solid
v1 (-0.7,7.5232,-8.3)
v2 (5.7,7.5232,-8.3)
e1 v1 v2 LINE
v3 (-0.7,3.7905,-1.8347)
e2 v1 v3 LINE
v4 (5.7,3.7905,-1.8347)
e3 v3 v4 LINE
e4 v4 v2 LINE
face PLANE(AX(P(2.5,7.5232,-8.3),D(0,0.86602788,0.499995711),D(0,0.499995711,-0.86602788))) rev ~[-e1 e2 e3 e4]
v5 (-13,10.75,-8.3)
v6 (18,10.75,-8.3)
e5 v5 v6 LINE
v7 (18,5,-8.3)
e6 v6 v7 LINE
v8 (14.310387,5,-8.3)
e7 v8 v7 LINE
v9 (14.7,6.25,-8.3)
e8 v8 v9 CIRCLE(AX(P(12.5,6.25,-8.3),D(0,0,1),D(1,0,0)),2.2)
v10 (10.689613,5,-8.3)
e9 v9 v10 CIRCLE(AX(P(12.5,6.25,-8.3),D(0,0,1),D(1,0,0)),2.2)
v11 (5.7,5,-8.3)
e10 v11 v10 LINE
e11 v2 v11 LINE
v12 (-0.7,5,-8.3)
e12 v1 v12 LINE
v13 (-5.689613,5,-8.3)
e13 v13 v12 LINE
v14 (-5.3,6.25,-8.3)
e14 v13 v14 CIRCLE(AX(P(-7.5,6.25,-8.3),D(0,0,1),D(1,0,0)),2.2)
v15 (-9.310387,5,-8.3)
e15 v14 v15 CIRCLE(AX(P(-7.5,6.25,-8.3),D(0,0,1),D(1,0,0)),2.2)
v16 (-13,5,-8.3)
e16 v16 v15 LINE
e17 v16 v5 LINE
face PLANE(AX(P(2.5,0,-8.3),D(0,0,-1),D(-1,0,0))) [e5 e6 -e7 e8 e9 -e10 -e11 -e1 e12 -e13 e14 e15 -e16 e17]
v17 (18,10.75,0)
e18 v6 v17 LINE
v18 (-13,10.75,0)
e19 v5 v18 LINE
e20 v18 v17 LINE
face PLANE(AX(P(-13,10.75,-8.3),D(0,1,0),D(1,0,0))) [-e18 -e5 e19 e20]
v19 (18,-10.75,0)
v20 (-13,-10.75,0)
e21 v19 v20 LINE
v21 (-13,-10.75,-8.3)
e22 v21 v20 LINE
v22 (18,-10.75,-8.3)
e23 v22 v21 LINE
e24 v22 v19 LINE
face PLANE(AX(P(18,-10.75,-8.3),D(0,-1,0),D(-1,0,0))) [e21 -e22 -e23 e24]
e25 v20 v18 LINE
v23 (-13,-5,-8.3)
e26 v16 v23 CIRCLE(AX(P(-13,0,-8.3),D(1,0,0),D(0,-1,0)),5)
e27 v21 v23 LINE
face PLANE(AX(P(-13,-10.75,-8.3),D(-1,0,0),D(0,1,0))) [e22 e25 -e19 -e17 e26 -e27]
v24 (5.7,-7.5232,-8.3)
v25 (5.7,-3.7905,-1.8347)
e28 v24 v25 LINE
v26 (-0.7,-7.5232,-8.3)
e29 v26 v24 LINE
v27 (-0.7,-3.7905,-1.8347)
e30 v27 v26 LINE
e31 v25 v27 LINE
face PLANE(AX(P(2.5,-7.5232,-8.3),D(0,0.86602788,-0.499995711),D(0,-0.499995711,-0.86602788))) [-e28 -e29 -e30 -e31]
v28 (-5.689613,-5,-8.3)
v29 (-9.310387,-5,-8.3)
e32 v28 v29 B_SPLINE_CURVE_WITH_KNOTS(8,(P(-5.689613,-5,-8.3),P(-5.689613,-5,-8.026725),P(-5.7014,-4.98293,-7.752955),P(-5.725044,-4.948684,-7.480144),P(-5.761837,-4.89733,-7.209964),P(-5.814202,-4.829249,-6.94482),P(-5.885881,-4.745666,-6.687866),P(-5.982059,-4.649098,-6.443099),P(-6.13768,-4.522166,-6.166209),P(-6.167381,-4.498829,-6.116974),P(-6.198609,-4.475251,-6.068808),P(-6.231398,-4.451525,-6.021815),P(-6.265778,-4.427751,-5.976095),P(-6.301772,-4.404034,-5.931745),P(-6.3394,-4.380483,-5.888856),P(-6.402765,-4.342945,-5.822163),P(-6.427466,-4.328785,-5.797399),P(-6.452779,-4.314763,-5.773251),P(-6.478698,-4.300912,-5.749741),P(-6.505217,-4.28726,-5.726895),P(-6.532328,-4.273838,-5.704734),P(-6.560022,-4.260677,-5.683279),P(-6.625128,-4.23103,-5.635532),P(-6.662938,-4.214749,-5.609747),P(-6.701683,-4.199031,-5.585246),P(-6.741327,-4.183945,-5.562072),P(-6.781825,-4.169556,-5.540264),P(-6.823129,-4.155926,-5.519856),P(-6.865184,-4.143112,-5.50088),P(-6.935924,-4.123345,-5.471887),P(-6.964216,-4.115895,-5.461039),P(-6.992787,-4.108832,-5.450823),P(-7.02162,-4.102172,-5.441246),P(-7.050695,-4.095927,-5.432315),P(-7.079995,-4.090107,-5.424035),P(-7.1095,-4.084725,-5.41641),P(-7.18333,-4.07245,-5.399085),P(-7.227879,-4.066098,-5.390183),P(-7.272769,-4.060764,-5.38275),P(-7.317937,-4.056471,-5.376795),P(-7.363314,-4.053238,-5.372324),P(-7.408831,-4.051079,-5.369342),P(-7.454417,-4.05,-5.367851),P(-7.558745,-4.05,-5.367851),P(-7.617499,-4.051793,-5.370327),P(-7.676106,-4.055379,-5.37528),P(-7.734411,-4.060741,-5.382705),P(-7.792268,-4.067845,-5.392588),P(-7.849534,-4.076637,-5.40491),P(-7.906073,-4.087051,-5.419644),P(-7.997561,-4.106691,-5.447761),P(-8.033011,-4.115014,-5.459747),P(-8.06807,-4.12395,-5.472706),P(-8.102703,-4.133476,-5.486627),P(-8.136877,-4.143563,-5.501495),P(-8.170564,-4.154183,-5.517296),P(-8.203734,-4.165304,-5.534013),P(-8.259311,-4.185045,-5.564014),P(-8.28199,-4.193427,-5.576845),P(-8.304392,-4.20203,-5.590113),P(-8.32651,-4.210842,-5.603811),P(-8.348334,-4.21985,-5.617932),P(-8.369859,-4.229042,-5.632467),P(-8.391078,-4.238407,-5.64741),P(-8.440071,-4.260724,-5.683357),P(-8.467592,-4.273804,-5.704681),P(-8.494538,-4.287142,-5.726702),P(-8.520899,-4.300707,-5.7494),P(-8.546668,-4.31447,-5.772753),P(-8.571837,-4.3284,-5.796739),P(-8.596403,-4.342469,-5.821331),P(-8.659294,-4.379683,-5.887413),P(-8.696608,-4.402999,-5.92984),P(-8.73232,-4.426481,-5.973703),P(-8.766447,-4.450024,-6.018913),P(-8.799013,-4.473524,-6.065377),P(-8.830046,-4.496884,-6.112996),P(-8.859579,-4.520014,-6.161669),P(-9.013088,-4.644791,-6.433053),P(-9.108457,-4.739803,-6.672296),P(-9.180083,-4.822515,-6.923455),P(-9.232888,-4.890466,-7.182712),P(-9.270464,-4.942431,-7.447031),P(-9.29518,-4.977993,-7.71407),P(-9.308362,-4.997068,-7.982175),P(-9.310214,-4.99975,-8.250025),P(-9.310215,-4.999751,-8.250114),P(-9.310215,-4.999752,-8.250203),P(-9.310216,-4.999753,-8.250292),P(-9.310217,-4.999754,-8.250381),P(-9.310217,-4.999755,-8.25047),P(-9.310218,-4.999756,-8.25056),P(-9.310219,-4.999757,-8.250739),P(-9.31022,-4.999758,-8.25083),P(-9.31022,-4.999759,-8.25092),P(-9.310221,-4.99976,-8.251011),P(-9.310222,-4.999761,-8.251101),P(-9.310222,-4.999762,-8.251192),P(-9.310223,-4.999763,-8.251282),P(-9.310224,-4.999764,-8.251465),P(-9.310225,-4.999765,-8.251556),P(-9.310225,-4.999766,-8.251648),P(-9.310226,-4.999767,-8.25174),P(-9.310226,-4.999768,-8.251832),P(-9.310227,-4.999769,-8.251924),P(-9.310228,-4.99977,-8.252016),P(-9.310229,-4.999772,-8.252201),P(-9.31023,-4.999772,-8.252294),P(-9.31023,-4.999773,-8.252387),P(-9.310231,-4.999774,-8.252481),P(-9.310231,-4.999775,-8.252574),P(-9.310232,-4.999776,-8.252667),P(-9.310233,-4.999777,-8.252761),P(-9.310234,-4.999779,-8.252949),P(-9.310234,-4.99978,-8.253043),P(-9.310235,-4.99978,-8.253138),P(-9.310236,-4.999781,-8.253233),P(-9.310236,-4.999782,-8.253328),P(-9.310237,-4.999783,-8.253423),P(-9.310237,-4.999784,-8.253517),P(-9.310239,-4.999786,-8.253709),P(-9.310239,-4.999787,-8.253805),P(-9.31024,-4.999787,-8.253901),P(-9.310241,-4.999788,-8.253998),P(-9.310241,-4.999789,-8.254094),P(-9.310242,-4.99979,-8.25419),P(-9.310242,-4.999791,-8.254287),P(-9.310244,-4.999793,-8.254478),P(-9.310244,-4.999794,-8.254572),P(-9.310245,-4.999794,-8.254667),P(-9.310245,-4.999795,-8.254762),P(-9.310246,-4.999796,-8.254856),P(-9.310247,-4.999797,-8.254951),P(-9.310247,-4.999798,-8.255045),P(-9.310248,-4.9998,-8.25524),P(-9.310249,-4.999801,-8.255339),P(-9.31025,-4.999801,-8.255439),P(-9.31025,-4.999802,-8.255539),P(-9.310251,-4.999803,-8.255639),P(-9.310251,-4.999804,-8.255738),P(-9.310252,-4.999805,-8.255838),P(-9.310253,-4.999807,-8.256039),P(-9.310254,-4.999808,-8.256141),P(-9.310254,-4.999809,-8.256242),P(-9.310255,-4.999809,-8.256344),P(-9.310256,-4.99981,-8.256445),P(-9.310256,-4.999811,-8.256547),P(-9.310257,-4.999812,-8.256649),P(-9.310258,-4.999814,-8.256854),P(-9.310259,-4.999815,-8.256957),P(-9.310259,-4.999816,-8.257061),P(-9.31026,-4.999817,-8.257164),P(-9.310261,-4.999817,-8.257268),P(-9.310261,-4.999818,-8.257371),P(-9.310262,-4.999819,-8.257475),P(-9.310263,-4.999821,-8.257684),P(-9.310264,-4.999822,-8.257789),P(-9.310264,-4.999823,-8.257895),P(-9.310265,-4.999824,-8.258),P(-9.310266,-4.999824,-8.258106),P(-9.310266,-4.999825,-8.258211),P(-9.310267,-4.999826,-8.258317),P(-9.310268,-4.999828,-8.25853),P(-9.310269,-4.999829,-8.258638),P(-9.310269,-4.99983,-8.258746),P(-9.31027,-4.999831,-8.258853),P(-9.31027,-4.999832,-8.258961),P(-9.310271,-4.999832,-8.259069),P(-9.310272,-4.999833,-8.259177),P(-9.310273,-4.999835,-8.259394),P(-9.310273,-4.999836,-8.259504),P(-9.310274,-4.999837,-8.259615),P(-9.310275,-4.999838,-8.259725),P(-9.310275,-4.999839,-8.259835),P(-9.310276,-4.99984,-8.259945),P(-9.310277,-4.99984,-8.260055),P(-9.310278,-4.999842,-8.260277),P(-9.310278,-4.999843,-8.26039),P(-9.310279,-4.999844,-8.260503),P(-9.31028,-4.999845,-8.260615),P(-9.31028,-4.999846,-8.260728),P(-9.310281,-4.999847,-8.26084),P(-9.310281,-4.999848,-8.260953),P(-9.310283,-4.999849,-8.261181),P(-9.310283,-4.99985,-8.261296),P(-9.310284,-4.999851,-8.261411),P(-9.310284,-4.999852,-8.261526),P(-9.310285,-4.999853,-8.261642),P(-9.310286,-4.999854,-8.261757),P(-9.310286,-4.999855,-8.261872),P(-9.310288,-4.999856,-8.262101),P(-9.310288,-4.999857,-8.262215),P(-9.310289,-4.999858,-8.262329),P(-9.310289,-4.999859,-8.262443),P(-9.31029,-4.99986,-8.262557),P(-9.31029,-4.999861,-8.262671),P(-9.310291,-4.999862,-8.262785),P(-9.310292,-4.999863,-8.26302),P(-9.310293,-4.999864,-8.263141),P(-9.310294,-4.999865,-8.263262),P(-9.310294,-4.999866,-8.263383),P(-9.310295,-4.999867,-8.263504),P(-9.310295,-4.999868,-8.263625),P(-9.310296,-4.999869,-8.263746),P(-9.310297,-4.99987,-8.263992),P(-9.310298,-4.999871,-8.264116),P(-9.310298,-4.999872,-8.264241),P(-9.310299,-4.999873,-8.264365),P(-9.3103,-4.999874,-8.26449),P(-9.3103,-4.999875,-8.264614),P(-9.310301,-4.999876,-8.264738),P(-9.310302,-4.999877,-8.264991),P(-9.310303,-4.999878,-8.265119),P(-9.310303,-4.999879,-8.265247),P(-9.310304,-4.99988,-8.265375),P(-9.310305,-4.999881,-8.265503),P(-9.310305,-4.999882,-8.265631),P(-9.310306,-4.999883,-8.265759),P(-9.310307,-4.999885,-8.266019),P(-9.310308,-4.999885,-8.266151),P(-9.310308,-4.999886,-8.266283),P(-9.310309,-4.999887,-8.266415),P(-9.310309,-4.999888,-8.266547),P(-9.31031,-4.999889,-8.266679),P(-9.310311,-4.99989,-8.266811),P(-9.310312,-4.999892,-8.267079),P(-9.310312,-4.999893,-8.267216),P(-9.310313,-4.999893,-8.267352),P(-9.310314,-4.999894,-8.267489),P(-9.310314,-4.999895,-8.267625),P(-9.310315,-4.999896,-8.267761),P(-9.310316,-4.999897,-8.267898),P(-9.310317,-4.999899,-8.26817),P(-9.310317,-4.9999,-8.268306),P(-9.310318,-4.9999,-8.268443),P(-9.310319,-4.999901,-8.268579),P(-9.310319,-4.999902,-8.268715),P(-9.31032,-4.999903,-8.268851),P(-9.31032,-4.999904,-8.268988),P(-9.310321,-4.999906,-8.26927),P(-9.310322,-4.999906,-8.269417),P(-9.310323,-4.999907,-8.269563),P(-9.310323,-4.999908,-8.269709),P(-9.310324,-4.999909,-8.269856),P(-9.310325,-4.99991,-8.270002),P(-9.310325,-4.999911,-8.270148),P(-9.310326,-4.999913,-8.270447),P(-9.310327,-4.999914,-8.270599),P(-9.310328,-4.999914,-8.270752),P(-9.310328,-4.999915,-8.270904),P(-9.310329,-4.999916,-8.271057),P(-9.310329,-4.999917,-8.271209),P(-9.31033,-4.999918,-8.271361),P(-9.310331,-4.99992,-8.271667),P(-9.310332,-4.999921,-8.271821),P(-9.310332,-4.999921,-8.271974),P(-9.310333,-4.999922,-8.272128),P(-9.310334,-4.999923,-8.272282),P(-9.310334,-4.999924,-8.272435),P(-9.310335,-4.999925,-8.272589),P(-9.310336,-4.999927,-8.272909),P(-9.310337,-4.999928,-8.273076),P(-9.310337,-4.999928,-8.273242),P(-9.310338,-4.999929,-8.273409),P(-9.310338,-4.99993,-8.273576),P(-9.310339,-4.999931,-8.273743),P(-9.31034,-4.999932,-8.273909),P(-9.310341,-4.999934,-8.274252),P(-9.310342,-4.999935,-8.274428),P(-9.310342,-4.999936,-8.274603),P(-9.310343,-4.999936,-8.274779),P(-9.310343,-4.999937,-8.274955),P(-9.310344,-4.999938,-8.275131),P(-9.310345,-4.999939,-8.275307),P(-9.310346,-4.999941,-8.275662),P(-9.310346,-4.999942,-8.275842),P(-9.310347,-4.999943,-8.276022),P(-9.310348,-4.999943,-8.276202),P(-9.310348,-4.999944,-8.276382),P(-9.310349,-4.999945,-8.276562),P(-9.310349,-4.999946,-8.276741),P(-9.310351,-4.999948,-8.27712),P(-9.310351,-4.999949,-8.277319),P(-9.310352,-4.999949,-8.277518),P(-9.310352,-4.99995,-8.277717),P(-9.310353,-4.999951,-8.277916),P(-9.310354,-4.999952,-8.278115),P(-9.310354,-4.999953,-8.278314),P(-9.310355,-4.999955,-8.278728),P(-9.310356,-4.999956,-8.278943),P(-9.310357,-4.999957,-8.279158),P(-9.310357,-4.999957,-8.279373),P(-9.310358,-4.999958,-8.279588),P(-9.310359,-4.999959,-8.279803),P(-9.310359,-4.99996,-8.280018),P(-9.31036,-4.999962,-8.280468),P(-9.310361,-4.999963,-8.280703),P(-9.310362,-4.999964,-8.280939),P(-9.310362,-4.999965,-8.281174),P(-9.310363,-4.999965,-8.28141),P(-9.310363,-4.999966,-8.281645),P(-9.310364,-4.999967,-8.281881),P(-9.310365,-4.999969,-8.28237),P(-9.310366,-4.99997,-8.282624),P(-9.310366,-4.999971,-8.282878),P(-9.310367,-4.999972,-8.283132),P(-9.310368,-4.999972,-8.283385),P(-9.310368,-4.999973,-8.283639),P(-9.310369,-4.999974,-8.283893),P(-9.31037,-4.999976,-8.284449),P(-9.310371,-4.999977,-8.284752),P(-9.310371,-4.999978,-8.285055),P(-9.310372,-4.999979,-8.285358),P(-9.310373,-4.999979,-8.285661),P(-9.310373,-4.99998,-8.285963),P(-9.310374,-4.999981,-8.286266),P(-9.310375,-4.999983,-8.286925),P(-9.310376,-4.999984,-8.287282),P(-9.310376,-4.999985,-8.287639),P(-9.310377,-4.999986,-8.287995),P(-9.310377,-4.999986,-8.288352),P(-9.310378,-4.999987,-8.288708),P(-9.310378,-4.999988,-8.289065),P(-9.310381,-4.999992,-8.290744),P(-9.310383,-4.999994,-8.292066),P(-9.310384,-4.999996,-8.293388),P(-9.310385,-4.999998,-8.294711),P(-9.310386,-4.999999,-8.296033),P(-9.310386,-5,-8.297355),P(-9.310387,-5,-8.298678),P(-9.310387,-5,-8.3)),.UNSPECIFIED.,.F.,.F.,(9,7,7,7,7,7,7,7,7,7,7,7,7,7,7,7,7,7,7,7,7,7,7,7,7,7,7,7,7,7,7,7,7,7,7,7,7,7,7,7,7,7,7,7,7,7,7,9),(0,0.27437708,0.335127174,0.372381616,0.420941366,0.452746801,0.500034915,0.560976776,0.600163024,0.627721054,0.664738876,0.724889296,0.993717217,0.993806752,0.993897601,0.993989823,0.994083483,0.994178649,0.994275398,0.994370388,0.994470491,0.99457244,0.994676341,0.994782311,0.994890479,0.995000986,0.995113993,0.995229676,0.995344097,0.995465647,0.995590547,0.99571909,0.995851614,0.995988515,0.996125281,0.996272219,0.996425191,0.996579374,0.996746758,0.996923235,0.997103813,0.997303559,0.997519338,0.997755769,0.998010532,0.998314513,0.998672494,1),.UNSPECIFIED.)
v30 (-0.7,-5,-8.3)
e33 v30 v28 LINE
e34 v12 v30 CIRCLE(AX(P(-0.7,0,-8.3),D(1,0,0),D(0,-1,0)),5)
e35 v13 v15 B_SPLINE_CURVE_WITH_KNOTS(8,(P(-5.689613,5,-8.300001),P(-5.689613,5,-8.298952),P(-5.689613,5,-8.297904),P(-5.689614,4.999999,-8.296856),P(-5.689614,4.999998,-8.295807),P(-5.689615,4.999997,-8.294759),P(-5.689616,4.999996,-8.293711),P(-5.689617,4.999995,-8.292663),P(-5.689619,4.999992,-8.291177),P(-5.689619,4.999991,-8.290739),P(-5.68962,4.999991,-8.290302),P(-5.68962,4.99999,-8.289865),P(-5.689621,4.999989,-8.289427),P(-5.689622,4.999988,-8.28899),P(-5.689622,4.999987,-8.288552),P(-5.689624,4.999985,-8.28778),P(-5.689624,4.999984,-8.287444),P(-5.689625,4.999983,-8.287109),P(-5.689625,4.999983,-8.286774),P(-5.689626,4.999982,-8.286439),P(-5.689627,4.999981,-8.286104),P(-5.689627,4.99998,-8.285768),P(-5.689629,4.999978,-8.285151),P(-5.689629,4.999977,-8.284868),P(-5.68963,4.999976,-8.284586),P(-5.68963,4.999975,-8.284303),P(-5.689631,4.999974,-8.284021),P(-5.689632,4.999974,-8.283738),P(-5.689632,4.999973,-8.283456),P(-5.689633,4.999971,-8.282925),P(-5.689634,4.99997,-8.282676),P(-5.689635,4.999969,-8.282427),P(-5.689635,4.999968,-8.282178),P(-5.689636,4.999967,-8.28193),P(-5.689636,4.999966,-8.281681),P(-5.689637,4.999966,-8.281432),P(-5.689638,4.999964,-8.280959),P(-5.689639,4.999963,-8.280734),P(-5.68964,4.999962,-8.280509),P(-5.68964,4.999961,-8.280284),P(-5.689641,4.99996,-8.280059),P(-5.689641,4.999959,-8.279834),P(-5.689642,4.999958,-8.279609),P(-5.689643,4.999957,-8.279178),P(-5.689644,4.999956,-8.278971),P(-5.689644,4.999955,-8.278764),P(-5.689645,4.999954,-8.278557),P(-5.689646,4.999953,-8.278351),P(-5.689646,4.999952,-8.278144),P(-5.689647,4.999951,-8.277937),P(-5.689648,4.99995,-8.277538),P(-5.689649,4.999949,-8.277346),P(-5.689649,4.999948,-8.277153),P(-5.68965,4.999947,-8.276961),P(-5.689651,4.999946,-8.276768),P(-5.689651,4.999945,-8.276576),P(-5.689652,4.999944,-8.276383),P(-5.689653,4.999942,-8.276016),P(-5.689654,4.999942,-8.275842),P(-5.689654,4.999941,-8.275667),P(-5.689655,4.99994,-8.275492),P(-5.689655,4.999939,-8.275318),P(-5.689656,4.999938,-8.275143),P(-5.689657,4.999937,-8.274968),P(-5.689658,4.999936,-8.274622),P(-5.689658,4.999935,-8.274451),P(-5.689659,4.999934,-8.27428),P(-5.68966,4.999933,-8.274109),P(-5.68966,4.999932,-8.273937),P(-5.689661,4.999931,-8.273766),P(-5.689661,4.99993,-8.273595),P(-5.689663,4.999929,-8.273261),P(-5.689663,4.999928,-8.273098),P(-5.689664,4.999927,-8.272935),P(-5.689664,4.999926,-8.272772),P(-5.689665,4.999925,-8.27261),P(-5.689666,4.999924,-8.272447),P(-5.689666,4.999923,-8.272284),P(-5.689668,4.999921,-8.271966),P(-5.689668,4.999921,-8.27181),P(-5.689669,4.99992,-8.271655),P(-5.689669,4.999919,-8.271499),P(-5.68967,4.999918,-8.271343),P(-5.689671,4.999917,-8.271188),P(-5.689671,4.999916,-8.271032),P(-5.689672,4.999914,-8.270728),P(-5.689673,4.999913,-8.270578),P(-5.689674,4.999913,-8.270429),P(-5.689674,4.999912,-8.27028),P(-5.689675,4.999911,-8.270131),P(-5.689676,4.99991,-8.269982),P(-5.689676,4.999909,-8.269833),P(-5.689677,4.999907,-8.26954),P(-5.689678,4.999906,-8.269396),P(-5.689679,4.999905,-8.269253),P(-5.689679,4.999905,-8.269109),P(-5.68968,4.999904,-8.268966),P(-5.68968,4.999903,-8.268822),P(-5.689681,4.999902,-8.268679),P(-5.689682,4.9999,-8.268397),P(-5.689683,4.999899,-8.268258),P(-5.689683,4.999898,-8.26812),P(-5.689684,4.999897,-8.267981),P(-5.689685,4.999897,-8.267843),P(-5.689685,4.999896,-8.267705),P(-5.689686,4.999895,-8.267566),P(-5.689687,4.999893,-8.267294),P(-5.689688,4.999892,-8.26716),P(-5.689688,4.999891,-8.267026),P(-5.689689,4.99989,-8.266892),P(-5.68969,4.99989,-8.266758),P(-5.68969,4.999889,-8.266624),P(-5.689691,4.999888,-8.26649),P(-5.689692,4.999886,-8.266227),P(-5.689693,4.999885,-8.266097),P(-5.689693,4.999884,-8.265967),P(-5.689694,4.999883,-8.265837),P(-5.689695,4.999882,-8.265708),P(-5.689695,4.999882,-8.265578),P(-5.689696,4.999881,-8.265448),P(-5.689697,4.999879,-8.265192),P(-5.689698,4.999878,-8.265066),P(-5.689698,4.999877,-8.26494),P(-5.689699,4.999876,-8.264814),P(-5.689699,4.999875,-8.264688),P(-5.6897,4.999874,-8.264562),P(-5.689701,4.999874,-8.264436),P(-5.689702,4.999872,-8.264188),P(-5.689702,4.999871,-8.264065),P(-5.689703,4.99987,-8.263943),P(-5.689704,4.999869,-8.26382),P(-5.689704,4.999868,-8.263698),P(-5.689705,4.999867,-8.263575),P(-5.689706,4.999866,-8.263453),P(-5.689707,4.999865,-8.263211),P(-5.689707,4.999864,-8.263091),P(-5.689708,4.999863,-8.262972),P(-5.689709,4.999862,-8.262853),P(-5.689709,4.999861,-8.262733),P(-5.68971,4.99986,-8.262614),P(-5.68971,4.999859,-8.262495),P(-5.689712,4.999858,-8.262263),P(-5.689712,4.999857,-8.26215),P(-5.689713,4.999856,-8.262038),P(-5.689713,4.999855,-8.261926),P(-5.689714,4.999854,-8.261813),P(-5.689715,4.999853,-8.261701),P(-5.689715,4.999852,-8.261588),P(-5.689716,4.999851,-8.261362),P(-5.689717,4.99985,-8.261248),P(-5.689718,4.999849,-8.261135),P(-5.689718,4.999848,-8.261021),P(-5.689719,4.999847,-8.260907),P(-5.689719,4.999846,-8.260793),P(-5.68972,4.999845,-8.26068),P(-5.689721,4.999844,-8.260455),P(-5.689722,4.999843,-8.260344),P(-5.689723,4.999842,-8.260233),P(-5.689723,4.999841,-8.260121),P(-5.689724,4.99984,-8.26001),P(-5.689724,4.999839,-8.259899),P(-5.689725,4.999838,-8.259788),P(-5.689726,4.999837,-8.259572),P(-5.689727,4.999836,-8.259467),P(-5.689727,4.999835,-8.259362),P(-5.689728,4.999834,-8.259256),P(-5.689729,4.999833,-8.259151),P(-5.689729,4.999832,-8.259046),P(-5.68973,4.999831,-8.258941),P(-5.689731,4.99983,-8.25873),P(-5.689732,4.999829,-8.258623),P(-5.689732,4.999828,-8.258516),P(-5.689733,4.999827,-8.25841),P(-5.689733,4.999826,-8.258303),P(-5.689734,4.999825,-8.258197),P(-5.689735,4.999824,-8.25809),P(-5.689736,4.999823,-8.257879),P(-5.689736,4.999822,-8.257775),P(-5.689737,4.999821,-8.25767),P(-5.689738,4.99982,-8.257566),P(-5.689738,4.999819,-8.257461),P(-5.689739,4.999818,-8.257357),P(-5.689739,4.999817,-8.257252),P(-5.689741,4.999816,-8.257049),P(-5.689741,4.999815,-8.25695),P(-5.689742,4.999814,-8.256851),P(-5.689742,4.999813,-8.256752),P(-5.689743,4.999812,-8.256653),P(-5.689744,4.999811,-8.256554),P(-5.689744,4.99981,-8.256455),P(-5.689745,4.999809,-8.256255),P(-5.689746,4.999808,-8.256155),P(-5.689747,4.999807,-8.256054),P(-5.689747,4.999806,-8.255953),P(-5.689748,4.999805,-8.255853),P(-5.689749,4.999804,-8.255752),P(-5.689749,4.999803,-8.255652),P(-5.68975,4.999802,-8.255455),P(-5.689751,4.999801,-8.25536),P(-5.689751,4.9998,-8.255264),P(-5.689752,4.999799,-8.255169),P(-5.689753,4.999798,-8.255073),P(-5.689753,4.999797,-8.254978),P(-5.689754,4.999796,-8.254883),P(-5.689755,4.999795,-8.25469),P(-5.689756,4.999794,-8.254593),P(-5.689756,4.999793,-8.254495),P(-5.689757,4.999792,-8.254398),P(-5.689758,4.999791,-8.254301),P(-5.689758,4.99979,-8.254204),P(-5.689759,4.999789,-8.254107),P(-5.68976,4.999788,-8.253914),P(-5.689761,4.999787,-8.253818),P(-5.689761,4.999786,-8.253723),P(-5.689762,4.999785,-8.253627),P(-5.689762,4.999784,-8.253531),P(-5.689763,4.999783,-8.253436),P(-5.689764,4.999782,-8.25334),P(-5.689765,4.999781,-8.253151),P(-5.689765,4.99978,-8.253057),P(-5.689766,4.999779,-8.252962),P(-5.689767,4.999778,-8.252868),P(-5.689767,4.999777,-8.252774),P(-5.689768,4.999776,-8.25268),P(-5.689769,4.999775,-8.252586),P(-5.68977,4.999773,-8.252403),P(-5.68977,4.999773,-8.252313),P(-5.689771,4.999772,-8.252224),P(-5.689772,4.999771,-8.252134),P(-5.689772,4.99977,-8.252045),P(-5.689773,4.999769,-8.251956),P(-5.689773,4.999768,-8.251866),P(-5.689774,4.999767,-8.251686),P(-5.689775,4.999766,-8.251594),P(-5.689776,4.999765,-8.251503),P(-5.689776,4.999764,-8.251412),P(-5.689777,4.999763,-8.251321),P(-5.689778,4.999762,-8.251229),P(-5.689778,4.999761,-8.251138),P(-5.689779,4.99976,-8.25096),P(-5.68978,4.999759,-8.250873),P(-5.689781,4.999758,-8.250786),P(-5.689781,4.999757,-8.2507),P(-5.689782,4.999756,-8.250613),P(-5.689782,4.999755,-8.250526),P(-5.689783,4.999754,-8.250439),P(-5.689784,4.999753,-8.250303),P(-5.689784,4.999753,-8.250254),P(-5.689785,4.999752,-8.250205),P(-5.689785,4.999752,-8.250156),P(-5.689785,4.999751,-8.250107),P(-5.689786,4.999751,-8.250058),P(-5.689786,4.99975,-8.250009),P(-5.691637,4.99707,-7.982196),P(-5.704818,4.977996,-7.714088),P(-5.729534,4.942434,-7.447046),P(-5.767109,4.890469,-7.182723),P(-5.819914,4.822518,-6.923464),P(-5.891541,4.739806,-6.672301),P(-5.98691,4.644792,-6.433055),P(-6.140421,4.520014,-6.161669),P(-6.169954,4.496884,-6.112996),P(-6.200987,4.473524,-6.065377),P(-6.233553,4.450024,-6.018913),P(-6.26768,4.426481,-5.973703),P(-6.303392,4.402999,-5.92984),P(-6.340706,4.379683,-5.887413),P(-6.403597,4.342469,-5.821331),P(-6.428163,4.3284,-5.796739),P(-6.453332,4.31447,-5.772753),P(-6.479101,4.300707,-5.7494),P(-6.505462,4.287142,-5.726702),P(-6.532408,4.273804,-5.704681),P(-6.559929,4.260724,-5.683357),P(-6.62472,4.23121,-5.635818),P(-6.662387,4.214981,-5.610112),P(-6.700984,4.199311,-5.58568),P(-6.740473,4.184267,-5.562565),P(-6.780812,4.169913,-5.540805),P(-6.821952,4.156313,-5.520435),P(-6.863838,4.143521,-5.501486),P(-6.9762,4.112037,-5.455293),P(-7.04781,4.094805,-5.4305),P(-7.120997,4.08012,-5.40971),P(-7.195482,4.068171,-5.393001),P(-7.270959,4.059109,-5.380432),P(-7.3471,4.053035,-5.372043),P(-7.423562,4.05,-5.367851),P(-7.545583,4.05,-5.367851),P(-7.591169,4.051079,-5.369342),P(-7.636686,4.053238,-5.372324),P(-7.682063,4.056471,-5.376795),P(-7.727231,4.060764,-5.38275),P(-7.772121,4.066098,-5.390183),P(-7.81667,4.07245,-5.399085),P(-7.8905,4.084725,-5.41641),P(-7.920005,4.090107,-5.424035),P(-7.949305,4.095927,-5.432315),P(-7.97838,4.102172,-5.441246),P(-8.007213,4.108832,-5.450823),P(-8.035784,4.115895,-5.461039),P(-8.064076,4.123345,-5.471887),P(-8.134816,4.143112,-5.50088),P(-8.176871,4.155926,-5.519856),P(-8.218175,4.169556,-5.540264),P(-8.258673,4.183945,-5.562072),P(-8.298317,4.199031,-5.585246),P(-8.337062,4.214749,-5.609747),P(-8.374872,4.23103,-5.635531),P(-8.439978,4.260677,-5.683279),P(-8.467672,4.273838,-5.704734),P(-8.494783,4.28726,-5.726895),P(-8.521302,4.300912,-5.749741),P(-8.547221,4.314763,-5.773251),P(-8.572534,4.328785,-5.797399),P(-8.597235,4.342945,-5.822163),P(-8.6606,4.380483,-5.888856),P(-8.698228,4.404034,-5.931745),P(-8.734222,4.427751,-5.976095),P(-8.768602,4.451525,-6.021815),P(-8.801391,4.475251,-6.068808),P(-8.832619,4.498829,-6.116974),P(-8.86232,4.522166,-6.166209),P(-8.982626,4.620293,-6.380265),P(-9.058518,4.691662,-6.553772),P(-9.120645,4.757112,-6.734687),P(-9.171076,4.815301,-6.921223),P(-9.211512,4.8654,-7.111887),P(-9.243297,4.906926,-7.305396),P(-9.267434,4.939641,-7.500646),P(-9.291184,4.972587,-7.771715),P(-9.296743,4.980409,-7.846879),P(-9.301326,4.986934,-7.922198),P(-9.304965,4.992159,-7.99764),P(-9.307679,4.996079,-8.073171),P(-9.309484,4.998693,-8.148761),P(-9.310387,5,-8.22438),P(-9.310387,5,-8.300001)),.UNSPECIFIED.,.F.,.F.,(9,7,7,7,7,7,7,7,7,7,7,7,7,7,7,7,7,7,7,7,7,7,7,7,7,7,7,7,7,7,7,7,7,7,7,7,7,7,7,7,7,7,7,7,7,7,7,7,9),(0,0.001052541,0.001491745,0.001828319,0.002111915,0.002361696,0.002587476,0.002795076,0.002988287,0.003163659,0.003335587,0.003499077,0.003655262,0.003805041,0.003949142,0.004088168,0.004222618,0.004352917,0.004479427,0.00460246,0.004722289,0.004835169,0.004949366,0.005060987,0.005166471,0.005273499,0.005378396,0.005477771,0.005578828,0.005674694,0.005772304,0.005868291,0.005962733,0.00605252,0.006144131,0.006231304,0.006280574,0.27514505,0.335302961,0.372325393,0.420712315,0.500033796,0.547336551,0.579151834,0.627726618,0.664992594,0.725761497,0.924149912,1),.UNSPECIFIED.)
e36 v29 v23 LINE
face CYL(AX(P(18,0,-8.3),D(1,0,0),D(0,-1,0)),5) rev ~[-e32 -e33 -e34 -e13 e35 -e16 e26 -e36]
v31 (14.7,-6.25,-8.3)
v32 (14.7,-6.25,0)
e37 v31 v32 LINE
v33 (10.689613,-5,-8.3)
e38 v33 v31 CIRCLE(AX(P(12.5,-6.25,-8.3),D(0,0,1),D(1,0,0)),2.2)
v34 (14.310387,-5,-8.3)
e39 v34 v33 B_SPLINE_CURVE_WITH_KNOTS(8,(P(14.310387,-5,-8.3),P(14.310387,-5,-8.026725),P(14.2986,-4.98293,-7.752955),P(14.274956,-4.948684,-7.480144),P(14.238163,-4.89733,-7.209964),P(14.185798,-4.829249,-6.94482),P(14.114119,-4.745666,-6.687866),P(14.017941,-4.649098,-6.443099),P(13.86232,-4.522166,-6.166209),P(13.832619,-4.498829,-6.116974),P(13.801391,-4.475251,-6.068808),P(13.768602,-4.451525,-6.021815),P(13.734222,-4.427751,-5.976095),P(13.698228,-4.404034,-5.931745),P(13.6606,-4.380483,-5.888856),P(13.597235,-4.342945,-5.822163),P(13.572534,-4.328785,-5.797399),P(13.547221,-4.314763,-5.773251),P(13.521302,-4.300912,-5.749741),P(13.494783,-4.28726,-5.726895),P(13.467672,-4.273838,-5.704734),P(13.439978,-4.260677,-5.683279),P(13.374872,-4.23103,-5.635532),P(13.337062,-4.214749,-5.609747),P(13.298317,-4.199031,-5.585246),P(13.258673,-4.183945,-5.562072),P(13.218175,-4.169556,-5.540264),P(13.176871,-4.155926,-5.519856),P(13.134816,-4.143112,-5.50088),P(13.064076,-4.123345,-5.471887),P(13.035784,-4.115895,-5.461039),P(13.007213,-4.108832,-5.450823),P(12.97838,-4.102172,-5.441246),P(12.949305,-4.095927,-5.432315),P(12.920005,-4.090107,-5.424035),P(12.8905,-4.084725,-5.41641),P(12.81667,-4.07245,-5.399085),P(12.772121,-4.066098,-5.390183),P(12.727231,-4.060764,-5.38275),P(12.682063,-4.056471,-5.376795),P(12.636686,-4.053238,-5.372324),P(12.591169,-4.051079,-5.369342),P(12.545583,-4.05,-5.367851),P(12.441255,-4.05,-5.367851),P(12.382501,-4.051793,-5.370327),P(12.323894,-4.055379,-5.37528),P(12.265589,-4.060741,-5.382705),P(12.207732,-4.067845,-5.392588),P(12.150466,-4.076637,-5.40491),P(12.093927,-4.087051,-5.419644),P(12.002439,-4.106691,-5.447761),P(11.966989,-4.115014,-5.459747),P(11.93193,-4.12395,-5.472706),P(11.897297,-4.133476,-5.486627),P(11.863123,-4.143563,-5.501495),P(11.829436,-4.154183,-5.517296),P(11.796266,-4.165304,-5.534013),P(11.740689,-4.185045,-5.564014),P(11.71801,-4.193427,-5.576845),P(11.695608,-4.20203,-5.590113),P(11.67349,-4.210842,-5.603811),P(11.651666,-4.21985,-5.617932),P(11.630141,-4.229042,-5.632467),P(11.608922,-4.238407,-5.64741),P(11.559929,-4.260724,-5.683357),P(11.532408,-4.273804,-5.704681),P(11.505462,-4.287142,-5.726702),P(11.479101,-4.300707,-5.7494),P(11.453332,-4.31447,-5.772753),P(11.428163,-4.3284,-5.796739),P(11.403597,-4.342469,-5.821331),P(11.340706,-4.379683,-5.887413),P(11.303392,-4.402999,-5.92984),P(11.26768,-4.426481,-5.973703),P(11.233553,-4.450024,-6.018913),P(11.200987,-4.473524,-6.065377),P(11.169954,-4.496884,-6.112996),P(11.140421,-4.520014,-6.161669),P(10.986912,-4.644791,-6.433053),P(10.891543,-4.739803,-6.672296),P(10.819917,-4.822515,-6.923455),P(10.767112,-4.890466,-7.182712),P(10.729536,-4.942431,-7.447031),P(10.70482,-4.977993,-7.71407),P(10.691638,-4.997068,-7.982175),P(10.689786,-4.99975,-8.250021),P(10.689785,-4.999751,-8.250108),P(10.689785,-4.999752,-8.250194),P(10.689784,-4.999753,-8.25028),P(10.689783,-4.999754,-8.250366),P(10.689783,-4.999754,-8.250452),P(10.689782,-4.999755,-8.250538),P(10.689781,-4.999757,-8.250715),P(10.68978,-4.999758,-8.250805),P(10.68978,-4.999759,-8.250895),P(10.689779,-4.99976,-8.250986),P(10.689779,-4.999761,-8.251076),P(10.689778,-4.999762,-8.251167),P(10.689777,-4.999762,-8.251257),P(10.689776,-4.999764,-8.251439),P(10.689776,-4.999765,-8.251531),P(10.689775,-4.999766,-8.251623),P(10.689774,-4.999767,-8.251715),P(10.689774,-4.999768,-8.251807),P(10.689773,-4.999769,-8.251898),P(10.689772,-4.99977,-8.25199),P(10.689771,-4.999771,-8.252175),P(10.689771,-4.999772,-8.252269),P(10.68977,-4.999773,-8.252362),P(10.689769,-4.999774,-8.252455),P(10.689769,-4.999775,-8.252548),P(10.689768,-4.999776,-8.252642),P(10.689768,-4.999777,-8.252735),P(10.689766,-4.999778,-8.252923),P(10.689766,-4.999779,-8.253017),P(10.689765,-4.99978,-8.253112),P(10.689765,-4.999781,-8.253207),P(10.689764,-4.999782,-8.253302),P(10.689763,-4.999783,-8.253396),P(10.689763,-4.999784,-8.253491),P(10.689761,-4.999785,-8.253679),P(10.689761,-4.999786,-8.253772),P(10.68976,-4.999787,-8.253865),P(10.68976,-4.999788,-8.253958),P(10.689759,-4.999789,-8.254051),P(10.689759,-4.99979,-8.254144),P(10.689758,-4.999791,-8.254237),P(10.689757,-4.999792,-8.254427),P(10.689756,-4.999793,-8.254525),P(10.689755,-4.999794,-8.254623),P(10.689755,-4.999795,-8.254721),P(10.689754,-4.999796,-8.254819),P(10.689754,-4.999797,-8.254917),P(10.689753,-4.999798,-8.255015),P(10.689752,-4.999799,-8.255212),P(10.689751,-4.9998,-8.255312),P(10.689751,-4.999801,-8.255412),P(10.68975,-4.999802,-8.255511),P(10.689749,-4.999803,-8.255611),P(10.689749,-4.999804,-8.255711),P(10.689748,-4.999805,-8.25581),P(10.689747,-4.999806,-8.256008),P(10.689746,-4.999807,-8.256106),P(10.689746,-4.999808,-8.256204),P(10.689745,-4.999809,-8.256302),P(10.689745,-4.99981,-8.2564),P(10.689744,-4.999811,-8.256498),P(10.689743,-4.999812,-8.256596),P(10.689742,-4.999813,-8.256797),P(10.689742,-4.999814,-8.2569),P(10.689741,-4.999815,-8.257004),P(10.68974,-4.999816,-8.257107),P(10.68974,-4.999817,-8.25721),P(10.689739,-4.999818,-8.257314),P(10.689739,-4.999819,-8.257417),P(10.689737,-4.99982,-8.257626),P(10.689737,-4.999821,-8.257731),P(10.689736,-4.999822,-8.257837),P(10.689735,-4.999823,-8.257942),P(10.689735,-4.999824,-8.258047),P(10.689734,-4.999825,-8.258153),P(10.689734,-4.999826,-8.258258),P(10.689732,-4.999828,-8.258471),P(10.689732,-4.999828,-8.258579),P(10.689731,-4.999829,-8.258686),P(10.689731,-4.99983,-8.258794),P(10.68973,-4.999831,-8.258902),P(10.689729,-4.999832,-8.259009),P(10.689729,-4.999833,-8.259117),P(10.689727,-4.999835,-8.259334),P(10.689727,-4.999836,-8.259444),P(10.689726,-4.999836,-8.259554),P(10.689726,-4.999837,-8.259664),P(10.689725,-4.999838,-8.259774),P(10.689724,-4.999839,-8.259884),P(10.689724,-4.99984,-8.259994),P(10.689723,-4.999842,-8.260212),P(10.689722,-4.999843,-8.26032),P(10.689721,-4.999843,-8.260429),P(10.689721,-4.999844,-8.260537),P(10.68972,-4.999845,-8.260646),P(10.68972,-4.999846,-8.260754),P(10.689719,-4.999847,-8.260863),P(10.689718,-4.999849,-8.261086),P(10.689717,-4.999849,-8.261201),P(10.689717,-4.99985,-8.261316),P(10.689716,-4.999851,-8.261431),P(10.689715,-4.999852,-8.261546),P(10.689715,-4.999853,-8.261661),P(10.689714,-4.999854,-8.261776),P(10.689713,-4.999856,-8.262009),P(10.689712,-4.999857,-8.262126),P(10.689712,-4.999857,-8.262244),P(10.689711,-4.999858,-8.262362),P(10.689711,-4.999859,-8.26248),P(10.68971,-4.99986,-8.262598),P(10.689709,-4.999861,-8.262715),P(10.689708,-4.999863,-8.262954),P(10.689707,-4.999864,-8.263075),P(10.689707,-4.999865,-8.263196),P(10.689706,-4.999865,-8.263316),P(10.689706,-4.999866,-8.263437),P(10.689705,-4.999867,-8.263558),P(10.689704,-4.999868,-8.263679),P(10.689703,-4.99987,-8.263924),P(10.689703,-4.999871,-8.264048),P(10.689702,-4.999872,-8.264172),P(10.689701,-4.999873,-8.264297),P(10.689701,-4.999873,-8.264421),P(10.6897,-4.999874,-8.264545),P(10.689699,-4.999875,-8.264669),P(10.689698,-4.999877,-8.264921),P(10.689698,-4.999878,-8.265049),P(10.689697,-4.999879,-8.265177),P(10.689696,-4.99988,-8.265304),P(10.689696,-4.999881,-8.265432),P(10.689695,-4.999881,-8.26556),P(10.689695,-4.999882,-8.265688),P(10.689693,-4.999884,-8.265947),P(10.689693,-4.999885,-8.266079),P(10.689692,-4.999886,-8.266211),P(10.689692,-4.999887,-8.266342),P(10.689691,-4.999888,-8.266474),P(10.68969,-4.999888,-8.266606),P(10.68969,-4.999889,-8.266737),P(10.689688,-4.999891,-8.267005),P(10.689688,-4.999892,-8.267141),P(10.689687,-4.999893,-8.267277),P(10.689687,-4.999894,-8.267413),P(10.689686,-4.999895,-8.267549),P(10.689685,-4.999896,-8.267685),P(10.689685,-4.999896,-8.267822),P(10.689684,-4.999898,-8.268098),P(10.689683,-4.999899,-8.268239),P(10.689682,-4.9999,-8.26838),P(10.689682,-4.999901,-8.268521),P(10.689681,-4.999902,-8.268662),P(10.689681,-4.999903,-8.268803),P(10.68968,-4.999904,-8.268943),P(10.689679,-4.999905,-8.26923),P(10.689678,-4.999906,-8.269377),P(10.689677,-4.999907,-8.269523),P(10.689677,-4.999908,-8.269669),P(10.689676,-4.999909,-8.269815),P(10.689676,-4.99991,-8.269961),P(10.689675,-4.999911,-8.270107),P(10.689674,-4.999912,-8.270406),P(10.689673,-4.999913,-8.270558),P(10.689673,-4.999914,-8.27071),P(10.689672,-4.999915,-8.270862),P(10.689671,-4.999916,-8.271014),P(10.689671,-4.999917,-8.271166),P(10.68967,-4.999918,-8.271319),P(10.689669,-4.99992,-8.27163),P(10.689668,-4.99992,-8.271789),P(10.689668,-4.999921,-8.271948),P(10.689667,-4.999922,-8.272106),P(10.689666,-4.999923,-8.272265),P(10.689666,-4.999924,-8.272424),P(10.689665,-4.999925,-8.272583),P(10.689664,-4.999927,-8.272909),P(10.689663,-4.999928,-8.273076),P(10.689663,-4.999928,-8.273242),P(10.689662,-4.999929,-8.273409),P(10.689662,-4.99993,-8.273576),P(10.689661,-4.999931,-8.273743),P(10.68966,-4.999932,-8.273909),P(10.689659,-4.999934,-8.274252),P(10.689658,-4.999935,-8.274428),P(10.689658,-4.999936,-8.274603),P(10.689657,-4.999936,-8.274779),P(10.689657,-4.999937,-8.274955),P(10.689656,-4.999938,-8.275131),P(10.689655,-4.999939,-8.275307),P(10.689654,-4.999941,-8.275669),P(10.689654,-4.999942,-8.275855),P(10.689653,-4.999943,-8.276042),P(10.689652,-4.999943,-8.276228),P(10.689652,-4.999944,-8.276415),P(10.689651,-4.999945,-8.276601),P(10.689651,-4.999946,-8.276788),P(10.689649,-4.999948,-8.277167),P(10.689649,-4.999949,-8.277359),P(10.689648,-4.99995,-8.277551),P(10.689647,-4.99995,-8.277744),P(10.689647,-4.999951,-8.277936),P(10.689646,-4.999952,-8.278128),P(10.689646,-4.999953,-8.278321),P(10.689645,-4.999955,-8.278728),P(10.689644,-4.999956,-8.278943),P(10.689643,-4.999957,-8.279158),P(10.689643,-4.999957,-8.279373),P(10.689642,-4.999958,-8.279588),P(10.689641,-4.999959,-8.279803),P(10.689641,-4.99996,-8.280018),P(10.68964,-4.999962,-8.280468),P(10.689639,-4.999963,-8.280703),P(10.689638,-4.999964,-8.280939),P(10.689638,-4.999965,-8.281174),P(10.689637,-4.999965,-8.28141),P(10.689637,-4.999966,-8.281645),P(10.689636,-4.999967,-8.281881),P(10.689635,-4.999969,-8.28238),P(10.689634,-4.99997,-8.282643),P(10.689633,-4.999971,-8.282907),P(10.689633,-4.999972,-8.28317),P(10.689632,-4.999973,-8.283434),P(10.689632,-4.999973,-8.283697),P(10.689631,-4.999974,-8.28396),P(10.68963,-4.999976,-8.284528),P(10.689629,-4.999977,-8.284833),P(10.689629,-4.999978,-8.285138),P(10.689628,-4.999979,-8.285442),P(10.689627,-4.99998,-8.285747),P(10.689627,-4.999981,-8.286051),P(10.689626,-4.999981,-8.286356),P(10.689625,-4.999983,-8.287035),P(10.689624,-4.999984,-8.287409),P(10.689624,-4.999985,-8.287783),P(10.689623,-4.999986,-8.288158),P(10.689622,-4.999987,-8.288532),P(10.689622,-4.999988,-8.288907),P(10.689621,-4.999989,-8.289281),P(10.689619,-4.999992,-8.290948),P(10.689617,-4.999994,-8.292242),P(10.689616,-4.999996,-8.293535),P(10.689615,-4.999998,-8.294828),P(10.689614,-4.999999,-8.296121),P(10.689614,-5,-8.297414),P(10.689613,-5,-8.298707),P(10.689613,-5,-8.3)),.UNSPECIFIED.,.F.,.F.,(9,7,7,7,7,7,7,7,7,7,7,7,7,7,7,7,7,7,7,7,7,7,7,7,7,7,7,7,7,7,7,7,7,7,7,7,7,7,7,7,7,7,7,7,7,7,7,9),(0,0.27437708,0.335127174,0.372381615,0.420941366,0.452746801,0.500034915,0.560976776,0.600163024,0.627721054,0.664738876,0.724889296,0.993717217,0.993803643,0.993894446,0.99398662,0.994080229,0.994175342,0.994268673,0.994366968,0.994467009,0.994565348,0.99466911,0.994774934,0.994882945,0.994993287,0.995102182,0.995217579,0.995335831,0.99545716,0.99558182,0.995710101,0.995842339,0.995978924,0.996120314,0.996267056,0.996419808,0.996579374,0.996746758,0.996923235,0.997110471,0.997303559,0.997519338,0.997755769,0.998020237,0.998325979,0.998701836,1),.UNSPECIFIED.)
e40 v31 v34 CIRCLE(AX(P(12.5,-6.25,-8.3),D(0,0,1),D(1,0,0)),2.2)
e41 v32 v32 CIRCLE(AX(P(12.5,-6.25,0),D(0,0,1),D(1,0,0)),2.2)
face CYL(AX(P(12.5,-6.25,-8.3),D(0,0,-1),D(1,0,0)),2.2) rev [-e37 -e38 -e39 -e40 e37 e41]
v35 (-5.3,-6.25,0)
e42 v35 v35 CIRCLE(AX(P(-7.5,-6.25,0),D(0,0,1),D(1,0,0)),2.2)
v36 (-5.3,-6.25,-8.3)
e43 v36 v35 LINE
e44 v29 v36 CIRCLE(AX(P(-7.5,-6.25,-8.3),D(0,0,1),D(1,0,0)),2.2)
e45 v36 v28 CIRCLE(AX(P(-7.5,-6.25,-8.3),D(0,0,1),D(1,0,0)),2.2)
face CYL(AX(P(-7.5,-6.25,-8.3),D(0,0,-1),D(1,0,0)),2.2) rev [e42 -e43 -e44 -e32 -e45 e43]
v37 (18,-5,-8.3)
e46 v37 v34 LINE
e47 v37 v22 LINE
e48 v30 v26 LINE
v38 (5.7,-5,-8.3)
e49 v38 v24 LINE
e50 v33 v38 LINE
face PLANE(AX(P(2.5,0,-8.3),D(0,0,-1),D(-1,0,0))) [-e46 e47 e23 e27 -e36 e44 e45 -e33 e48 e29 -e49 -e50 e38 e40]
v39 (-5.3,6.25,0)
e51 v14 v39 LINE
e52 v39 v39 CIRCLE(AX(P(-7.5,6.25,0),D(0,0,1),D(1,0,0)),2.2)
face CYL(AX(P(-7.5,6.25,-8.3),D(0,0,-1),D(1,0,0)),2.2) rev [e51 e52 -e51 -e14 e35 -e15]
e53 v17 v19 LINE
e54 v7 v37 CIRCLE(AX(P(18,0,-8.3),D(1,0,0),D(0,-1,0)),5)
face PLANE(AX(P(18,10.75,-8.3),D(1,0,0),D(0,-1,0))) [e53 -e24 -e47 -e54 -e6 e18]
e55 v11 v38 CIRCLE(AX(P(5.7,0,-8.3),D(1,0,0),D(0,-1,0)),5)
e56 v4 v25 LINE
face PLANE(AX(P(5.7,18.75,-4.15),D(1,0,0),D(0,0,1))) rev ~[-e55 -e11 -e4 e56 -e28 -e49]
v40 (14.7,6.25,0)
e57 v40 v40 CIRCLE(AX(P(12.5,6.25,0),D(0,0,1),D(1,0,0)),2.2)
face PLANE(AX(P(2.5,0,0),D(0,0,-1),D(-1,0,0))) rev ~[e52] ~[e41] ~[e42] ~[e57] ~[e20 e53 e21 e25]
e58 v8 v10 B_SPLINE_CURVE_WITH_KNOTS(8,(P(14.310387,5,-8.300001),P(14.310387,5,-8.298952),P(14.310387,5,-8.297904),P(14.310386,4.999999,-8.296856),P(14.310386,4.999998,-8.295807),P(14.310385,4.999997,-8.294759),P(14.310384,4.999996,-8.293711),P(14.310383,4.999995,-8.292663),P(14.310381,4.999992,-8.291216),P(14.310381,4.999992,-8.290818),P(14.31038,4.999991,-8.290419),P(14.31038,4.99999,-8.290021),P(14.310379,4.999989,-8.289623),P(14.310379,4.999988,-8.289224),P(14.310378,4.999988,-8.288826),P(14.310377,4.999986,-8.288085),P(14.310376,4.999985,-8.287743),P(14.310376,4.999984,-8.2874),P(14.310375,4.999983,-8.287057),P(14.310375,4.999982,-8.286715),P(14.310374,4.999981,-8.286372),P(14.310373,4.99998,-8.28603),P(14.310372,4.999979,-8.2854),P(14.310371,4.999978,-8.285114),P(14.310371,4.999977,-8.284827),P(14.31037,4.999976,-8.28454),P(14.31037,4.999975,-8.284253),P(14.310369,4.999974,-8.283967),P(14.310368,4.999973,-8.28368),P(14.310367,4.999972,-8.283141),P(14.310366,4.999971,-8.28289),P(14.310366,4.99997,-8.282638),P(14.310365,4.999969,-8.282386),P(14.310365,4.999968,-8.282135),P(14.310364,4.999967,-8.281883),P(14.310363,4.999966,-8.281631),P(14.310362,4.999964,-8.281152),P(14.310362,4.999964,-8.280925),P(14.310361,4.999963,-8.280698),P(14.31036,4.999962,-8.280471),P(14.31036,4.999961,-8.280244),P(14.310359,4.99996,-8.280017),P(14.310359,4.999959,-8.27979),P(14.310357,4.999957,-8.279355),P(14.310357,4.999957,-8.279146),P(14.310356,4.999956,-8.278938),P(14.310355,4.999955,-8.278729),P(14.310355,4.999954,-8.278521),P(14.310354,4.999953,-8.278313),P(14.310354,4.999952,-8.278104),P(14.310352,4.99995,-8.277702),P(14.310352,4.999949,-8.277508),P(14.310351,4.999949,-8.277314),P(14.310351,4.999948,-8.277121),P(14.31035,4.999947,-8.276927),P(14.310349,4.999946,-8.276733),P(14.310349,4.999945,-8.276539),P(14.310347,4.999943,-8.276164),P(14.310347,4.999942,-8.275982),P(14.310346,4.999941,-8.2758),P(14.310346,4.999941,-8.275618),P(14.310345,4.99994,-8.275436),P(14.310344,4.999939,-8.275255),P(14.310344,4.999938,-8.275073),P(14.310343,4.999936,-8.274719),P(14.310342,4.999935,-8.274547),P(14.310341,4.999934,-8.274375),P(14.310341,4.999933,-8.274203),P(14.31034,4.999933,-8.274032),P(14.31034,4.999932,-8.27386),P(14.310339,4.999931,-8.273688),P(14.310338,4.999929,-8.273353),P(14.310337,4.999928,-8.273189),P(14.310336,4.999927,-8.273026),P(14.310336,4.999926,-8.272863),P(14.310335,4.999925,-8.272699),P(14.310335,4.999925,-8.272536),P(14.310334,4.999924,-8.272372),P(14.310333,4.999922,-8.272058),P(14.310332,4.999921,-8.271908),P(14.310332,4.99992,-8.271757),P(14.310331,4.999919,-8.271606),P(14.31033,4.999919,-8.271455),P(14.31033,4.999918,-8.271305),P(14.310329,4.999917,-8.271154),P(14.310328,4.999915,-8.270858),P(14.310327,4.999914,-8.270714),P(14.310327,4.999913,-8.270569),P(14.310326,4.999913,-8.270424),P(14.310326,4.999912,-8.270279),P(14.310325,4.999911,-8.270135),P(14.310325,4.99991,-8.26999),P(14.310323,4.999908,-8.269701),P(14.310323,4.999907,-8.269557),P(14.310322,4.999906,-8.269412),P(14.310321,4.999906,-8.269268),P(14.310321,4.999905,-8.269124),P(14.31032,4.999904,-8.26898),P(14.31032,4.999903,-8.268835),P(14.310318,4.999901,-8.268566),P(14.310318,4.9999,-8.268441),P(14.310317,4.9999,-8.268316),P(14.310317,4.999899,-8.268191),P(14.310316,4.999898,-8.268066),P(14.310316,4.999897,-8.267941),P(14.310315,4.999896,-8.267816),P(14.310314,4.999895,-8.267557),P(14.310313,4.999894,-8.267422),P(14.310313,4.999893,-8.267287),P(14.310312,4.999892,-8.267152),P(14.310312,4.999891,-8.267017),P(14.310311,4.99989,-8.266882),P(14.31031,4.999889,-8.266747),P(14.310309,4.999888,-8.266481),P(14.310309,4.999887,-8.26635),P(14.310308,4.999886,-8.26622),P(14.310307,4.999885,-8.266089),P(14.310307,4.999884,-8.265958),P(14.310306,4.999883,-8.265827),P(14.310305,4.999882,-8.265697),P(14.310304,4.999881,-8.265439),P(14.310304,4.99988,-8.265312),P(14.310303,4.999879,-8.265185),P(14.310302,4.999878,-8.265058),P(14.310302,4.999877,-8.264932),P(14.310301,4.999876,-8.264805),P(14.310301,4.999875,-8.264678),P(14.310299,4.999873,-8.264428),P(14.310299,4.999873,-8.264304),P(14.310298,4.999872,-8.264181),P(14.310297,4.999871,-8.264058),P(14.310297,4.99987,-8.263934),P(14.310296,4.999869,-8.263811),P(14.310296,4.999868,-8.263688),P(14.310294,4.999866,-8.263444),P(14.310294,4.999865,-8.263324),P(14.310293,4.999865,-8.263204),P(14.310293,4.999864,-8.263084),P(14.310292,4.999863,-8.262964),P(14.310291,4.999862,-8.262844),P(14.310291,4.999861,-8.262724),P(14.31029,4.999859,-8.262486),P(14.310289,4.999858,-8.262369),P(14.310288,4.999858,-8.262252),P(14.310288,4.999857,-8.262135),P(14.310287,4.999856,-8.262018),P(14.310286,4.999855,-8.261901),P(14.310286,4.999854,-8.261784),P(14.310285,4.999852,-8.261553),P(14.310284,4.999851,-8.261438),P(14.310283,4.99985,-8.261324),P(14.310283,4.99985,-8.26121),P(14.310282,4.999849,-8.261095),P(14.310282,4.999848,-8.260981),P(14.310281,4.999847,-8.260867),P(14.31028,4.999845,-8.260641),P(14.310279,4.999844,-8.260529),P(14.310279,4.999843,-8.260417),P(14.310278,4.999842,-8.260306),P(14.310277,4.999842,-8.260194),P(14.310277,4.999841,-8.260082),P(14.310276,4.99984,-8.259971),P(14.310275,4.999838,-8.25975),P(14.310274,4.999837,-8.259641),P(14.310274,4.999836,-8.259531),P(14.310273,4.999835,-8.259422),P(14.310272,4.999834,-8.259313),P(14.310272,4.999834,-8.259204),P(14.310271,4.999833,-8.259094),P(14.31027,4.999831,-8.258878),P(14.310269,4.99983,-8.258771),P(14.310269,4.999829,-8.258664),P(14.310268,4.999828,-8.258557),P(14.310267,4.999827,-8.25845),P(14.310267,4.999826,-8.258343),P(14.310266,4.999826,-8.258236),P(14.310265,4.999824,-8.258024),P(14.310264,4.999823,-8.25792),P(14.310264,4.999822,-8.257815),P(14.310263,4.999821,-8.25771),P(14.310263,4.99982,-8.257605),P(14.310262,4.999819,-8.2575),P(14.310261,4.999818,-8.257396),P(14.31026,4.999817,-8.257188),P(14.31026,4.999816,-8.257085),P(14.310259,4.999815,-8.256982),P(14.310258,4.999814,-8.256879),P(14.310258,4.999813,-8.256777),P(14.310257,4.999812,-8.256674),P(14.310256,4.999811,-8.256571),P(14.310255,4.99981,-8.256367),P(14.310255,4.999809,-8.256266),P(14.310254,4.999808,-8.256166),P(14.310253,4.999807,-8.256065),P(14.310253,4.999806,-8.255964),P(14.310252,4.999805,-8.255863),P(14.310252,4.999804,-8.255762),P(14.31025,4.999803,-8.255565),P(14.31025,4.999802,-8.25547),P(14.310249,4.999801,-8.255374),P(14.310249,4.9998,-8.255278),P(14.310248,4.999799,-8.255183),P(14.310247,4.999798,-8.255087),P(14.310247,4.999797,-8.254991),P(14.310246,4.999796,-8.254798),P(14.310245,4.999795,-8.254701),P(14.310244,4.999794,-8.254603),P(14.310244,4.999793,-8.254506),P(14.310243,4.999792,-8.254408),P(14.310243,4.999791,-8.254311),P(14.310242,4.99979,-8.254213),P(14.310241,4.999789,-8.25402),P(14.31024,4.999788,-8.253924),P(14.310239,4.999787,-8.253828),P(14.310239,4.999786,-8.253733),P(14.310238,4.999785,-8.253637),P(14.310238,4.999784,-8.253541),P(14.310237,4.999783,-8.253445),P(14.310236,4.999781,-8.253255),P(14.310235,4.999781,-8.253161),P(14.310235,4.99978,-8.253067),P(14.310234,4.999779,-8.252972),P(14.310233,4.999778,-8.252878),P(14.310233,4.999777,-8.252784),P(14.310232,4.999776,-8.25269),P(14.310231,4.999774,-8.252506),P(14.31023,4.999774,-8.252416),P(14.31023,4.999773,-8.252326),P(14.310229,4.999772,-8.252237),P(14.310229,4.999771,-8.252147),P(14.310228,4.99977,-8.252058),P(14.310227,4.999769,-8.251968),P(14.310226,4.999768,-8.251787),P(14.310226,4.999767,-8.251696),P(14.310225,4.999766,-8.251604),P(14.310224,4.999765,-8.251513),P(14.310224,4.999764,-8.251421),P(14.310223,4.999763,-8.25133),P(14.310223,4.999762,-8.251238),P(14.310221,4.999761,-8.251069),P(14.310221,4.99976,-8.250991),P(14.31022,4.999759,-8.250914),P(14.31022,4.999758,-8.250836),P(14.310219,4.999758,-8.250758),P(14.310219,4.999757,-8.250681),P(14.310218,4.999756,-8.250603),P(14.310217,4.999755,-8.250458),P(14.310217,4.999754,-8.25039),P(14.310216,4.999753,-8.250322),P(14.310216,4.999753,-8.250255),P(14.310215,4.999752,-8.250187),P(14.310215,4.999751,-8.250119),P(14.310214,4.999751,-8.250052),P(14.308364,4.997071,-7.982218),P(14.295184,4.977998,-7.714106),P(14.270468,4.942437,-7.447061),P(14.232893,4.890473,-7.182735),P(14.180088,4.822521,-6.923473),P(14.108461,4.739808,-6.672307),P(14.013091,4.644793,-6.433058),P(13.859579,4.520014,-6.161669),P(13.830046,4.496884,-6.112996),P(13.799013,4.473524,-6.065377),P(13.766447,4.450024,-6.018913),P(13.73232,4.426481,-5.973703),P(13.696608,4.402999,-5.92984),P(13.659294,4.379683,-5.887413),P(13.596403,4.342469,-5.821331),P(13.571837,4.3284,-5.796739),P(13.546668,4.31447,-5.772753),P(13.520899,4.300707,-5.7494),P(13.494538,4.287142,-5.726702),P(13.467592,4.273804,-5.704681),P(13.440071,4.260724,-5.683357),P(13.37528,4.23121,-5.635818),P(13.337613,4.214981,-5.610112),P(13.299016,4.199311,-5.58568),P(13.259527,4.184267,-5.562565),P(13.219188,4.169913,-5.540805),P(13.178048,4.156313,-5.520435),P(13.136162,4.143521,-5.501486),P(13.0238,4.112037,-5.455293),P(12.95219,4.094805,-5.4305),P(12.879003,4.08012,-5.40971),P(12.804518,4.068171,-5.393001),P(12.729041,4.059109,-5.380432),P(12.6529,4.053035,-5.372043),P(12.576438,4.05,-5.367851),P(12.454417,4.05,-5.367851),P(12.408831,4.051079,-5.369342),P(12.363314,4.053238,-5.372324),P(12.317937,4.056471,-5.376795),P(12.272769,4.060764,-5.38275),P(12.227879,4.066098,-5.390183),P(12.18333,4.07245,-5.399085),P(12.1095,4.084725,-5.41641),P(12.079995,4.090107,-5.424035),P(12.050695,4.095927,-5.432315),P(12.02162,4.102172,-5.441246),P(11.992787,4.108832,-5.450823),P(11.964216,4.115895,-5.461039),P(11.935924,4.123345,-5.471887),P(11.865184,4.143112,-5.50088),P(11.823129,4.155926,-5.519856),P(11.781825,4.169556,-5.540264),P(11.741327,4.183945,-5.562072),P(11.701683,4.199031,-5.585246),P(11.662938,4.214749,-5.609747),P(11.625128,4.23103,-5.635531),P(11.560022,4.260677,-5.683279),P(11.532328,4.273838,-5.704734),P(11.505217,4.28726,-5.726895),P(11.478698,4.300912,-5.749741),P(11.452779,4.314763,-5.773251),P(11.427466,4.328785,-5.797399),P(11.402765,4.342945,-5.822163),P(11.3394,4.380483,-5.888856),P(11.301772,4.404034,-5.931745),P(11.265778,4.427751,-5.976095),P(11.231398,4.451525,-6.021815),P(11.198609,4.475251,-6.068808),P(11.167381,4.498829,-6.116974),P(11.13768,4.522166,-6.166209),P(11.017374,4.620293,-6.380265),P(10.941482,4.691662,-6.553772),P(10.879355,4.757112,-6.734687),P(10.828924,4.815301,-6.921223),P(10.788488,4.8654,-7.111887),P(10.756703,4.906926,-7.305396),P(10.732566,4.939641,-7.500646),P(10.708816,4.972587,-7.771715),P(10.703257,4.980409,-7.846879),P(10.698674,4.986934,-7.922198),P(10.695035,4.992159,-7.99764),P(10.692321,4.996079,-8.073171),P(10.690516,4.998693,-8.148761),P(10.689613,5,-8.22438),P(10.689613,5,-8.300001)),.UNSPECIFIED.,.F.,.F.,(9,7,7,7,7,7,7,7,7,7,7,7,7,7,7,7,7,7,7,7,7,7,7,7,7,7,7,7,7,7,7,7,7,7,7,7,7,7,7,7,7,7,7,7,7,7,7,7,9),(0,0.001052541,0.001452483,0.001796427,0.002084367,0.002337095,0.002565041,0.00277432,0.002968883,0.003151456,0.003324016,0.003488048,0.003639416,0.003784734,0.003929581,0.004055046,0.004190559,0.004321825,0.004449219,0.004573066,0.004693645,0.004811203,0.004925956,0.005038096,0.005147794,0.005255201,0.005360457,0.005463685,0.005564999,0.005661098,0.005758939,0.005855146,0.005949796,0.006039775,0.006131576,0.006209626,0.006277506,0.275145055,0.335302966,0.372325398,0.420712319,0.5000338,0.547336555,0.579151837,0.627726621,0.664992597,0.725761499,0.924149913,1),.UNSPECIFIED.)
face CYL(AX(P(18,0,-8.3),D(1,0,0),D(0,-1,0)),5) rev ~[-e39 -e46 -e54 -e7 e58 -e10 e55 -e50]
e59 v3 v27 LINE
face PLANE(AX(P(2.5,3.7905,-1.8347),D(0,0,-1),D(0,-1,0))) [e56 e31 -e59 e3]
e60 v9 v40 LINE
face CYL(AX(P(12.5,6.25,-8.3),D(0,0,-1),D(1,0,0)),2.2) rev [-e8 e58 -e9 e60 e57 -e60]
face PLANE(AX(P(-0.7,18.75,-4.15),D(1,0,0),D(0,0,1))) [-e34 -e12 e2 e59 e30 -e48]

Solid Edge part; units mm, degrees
sketch "Sketch1" plane through (0, 0, -8.3) normal (0, 0, 1) x (1, 0, 0)
  circle A0 centre (-7.5, -6.25) radius 2.2
  circle A1 centre (12.5, -6.25) radius 2.2
  circle A2 centre (12.5, 6.25) radius 2.2
  line L0 (-13, 10.75) -> (18, 10.75)
  line L1 (18, 10.75) -> (18, -10.75)
  line L2 (18, -10.75) -> (-13, -10.75)
  line L3 (-13, -10.75) -> (-13, 10.75)
  circle A3 centre (-7.5, 6.25) radius 2.2
  dimension "D1" = 20
  dimension "D2" = 4.4
  dimension "D3" = 12.5
  dimension "D4" = 31
  dimension "D5" = 31
extrude "Protrusion1" add sketch "Sketch1" along normal up to vertex (8.3 mm away)
sketch "Sketch2" plane through (2.5, 18.75, -4.15) normal (1, 0, 0) x (0, 1, 0)
  line L0 (-11.2268, -4.15) -> (-14.9595, 2.3153)
  line L1 (-14.9595, 2.3153) -> (-22.5405, 2.3153)
  line L2 (-22.5405, 2.3153) -> (-26.2732, -4.15)
  dimension "D1" = 0.2
extrude "ExtrudedCutout_1" cut sketch "Sketch2" along normal mid plane 6.4 material side at (2.5, 5.6135, -5.0923)
sketch "Sketch3" plane through (18, 18.75, -4.15) normal (1, 0, 0) x (0, -1, 0)
  circle A0 centre (18.75, 4.15) radius 5
  dimension "D1" = 10
extrude "Cutout1" cut sketch "Sketch3" against normal through all
